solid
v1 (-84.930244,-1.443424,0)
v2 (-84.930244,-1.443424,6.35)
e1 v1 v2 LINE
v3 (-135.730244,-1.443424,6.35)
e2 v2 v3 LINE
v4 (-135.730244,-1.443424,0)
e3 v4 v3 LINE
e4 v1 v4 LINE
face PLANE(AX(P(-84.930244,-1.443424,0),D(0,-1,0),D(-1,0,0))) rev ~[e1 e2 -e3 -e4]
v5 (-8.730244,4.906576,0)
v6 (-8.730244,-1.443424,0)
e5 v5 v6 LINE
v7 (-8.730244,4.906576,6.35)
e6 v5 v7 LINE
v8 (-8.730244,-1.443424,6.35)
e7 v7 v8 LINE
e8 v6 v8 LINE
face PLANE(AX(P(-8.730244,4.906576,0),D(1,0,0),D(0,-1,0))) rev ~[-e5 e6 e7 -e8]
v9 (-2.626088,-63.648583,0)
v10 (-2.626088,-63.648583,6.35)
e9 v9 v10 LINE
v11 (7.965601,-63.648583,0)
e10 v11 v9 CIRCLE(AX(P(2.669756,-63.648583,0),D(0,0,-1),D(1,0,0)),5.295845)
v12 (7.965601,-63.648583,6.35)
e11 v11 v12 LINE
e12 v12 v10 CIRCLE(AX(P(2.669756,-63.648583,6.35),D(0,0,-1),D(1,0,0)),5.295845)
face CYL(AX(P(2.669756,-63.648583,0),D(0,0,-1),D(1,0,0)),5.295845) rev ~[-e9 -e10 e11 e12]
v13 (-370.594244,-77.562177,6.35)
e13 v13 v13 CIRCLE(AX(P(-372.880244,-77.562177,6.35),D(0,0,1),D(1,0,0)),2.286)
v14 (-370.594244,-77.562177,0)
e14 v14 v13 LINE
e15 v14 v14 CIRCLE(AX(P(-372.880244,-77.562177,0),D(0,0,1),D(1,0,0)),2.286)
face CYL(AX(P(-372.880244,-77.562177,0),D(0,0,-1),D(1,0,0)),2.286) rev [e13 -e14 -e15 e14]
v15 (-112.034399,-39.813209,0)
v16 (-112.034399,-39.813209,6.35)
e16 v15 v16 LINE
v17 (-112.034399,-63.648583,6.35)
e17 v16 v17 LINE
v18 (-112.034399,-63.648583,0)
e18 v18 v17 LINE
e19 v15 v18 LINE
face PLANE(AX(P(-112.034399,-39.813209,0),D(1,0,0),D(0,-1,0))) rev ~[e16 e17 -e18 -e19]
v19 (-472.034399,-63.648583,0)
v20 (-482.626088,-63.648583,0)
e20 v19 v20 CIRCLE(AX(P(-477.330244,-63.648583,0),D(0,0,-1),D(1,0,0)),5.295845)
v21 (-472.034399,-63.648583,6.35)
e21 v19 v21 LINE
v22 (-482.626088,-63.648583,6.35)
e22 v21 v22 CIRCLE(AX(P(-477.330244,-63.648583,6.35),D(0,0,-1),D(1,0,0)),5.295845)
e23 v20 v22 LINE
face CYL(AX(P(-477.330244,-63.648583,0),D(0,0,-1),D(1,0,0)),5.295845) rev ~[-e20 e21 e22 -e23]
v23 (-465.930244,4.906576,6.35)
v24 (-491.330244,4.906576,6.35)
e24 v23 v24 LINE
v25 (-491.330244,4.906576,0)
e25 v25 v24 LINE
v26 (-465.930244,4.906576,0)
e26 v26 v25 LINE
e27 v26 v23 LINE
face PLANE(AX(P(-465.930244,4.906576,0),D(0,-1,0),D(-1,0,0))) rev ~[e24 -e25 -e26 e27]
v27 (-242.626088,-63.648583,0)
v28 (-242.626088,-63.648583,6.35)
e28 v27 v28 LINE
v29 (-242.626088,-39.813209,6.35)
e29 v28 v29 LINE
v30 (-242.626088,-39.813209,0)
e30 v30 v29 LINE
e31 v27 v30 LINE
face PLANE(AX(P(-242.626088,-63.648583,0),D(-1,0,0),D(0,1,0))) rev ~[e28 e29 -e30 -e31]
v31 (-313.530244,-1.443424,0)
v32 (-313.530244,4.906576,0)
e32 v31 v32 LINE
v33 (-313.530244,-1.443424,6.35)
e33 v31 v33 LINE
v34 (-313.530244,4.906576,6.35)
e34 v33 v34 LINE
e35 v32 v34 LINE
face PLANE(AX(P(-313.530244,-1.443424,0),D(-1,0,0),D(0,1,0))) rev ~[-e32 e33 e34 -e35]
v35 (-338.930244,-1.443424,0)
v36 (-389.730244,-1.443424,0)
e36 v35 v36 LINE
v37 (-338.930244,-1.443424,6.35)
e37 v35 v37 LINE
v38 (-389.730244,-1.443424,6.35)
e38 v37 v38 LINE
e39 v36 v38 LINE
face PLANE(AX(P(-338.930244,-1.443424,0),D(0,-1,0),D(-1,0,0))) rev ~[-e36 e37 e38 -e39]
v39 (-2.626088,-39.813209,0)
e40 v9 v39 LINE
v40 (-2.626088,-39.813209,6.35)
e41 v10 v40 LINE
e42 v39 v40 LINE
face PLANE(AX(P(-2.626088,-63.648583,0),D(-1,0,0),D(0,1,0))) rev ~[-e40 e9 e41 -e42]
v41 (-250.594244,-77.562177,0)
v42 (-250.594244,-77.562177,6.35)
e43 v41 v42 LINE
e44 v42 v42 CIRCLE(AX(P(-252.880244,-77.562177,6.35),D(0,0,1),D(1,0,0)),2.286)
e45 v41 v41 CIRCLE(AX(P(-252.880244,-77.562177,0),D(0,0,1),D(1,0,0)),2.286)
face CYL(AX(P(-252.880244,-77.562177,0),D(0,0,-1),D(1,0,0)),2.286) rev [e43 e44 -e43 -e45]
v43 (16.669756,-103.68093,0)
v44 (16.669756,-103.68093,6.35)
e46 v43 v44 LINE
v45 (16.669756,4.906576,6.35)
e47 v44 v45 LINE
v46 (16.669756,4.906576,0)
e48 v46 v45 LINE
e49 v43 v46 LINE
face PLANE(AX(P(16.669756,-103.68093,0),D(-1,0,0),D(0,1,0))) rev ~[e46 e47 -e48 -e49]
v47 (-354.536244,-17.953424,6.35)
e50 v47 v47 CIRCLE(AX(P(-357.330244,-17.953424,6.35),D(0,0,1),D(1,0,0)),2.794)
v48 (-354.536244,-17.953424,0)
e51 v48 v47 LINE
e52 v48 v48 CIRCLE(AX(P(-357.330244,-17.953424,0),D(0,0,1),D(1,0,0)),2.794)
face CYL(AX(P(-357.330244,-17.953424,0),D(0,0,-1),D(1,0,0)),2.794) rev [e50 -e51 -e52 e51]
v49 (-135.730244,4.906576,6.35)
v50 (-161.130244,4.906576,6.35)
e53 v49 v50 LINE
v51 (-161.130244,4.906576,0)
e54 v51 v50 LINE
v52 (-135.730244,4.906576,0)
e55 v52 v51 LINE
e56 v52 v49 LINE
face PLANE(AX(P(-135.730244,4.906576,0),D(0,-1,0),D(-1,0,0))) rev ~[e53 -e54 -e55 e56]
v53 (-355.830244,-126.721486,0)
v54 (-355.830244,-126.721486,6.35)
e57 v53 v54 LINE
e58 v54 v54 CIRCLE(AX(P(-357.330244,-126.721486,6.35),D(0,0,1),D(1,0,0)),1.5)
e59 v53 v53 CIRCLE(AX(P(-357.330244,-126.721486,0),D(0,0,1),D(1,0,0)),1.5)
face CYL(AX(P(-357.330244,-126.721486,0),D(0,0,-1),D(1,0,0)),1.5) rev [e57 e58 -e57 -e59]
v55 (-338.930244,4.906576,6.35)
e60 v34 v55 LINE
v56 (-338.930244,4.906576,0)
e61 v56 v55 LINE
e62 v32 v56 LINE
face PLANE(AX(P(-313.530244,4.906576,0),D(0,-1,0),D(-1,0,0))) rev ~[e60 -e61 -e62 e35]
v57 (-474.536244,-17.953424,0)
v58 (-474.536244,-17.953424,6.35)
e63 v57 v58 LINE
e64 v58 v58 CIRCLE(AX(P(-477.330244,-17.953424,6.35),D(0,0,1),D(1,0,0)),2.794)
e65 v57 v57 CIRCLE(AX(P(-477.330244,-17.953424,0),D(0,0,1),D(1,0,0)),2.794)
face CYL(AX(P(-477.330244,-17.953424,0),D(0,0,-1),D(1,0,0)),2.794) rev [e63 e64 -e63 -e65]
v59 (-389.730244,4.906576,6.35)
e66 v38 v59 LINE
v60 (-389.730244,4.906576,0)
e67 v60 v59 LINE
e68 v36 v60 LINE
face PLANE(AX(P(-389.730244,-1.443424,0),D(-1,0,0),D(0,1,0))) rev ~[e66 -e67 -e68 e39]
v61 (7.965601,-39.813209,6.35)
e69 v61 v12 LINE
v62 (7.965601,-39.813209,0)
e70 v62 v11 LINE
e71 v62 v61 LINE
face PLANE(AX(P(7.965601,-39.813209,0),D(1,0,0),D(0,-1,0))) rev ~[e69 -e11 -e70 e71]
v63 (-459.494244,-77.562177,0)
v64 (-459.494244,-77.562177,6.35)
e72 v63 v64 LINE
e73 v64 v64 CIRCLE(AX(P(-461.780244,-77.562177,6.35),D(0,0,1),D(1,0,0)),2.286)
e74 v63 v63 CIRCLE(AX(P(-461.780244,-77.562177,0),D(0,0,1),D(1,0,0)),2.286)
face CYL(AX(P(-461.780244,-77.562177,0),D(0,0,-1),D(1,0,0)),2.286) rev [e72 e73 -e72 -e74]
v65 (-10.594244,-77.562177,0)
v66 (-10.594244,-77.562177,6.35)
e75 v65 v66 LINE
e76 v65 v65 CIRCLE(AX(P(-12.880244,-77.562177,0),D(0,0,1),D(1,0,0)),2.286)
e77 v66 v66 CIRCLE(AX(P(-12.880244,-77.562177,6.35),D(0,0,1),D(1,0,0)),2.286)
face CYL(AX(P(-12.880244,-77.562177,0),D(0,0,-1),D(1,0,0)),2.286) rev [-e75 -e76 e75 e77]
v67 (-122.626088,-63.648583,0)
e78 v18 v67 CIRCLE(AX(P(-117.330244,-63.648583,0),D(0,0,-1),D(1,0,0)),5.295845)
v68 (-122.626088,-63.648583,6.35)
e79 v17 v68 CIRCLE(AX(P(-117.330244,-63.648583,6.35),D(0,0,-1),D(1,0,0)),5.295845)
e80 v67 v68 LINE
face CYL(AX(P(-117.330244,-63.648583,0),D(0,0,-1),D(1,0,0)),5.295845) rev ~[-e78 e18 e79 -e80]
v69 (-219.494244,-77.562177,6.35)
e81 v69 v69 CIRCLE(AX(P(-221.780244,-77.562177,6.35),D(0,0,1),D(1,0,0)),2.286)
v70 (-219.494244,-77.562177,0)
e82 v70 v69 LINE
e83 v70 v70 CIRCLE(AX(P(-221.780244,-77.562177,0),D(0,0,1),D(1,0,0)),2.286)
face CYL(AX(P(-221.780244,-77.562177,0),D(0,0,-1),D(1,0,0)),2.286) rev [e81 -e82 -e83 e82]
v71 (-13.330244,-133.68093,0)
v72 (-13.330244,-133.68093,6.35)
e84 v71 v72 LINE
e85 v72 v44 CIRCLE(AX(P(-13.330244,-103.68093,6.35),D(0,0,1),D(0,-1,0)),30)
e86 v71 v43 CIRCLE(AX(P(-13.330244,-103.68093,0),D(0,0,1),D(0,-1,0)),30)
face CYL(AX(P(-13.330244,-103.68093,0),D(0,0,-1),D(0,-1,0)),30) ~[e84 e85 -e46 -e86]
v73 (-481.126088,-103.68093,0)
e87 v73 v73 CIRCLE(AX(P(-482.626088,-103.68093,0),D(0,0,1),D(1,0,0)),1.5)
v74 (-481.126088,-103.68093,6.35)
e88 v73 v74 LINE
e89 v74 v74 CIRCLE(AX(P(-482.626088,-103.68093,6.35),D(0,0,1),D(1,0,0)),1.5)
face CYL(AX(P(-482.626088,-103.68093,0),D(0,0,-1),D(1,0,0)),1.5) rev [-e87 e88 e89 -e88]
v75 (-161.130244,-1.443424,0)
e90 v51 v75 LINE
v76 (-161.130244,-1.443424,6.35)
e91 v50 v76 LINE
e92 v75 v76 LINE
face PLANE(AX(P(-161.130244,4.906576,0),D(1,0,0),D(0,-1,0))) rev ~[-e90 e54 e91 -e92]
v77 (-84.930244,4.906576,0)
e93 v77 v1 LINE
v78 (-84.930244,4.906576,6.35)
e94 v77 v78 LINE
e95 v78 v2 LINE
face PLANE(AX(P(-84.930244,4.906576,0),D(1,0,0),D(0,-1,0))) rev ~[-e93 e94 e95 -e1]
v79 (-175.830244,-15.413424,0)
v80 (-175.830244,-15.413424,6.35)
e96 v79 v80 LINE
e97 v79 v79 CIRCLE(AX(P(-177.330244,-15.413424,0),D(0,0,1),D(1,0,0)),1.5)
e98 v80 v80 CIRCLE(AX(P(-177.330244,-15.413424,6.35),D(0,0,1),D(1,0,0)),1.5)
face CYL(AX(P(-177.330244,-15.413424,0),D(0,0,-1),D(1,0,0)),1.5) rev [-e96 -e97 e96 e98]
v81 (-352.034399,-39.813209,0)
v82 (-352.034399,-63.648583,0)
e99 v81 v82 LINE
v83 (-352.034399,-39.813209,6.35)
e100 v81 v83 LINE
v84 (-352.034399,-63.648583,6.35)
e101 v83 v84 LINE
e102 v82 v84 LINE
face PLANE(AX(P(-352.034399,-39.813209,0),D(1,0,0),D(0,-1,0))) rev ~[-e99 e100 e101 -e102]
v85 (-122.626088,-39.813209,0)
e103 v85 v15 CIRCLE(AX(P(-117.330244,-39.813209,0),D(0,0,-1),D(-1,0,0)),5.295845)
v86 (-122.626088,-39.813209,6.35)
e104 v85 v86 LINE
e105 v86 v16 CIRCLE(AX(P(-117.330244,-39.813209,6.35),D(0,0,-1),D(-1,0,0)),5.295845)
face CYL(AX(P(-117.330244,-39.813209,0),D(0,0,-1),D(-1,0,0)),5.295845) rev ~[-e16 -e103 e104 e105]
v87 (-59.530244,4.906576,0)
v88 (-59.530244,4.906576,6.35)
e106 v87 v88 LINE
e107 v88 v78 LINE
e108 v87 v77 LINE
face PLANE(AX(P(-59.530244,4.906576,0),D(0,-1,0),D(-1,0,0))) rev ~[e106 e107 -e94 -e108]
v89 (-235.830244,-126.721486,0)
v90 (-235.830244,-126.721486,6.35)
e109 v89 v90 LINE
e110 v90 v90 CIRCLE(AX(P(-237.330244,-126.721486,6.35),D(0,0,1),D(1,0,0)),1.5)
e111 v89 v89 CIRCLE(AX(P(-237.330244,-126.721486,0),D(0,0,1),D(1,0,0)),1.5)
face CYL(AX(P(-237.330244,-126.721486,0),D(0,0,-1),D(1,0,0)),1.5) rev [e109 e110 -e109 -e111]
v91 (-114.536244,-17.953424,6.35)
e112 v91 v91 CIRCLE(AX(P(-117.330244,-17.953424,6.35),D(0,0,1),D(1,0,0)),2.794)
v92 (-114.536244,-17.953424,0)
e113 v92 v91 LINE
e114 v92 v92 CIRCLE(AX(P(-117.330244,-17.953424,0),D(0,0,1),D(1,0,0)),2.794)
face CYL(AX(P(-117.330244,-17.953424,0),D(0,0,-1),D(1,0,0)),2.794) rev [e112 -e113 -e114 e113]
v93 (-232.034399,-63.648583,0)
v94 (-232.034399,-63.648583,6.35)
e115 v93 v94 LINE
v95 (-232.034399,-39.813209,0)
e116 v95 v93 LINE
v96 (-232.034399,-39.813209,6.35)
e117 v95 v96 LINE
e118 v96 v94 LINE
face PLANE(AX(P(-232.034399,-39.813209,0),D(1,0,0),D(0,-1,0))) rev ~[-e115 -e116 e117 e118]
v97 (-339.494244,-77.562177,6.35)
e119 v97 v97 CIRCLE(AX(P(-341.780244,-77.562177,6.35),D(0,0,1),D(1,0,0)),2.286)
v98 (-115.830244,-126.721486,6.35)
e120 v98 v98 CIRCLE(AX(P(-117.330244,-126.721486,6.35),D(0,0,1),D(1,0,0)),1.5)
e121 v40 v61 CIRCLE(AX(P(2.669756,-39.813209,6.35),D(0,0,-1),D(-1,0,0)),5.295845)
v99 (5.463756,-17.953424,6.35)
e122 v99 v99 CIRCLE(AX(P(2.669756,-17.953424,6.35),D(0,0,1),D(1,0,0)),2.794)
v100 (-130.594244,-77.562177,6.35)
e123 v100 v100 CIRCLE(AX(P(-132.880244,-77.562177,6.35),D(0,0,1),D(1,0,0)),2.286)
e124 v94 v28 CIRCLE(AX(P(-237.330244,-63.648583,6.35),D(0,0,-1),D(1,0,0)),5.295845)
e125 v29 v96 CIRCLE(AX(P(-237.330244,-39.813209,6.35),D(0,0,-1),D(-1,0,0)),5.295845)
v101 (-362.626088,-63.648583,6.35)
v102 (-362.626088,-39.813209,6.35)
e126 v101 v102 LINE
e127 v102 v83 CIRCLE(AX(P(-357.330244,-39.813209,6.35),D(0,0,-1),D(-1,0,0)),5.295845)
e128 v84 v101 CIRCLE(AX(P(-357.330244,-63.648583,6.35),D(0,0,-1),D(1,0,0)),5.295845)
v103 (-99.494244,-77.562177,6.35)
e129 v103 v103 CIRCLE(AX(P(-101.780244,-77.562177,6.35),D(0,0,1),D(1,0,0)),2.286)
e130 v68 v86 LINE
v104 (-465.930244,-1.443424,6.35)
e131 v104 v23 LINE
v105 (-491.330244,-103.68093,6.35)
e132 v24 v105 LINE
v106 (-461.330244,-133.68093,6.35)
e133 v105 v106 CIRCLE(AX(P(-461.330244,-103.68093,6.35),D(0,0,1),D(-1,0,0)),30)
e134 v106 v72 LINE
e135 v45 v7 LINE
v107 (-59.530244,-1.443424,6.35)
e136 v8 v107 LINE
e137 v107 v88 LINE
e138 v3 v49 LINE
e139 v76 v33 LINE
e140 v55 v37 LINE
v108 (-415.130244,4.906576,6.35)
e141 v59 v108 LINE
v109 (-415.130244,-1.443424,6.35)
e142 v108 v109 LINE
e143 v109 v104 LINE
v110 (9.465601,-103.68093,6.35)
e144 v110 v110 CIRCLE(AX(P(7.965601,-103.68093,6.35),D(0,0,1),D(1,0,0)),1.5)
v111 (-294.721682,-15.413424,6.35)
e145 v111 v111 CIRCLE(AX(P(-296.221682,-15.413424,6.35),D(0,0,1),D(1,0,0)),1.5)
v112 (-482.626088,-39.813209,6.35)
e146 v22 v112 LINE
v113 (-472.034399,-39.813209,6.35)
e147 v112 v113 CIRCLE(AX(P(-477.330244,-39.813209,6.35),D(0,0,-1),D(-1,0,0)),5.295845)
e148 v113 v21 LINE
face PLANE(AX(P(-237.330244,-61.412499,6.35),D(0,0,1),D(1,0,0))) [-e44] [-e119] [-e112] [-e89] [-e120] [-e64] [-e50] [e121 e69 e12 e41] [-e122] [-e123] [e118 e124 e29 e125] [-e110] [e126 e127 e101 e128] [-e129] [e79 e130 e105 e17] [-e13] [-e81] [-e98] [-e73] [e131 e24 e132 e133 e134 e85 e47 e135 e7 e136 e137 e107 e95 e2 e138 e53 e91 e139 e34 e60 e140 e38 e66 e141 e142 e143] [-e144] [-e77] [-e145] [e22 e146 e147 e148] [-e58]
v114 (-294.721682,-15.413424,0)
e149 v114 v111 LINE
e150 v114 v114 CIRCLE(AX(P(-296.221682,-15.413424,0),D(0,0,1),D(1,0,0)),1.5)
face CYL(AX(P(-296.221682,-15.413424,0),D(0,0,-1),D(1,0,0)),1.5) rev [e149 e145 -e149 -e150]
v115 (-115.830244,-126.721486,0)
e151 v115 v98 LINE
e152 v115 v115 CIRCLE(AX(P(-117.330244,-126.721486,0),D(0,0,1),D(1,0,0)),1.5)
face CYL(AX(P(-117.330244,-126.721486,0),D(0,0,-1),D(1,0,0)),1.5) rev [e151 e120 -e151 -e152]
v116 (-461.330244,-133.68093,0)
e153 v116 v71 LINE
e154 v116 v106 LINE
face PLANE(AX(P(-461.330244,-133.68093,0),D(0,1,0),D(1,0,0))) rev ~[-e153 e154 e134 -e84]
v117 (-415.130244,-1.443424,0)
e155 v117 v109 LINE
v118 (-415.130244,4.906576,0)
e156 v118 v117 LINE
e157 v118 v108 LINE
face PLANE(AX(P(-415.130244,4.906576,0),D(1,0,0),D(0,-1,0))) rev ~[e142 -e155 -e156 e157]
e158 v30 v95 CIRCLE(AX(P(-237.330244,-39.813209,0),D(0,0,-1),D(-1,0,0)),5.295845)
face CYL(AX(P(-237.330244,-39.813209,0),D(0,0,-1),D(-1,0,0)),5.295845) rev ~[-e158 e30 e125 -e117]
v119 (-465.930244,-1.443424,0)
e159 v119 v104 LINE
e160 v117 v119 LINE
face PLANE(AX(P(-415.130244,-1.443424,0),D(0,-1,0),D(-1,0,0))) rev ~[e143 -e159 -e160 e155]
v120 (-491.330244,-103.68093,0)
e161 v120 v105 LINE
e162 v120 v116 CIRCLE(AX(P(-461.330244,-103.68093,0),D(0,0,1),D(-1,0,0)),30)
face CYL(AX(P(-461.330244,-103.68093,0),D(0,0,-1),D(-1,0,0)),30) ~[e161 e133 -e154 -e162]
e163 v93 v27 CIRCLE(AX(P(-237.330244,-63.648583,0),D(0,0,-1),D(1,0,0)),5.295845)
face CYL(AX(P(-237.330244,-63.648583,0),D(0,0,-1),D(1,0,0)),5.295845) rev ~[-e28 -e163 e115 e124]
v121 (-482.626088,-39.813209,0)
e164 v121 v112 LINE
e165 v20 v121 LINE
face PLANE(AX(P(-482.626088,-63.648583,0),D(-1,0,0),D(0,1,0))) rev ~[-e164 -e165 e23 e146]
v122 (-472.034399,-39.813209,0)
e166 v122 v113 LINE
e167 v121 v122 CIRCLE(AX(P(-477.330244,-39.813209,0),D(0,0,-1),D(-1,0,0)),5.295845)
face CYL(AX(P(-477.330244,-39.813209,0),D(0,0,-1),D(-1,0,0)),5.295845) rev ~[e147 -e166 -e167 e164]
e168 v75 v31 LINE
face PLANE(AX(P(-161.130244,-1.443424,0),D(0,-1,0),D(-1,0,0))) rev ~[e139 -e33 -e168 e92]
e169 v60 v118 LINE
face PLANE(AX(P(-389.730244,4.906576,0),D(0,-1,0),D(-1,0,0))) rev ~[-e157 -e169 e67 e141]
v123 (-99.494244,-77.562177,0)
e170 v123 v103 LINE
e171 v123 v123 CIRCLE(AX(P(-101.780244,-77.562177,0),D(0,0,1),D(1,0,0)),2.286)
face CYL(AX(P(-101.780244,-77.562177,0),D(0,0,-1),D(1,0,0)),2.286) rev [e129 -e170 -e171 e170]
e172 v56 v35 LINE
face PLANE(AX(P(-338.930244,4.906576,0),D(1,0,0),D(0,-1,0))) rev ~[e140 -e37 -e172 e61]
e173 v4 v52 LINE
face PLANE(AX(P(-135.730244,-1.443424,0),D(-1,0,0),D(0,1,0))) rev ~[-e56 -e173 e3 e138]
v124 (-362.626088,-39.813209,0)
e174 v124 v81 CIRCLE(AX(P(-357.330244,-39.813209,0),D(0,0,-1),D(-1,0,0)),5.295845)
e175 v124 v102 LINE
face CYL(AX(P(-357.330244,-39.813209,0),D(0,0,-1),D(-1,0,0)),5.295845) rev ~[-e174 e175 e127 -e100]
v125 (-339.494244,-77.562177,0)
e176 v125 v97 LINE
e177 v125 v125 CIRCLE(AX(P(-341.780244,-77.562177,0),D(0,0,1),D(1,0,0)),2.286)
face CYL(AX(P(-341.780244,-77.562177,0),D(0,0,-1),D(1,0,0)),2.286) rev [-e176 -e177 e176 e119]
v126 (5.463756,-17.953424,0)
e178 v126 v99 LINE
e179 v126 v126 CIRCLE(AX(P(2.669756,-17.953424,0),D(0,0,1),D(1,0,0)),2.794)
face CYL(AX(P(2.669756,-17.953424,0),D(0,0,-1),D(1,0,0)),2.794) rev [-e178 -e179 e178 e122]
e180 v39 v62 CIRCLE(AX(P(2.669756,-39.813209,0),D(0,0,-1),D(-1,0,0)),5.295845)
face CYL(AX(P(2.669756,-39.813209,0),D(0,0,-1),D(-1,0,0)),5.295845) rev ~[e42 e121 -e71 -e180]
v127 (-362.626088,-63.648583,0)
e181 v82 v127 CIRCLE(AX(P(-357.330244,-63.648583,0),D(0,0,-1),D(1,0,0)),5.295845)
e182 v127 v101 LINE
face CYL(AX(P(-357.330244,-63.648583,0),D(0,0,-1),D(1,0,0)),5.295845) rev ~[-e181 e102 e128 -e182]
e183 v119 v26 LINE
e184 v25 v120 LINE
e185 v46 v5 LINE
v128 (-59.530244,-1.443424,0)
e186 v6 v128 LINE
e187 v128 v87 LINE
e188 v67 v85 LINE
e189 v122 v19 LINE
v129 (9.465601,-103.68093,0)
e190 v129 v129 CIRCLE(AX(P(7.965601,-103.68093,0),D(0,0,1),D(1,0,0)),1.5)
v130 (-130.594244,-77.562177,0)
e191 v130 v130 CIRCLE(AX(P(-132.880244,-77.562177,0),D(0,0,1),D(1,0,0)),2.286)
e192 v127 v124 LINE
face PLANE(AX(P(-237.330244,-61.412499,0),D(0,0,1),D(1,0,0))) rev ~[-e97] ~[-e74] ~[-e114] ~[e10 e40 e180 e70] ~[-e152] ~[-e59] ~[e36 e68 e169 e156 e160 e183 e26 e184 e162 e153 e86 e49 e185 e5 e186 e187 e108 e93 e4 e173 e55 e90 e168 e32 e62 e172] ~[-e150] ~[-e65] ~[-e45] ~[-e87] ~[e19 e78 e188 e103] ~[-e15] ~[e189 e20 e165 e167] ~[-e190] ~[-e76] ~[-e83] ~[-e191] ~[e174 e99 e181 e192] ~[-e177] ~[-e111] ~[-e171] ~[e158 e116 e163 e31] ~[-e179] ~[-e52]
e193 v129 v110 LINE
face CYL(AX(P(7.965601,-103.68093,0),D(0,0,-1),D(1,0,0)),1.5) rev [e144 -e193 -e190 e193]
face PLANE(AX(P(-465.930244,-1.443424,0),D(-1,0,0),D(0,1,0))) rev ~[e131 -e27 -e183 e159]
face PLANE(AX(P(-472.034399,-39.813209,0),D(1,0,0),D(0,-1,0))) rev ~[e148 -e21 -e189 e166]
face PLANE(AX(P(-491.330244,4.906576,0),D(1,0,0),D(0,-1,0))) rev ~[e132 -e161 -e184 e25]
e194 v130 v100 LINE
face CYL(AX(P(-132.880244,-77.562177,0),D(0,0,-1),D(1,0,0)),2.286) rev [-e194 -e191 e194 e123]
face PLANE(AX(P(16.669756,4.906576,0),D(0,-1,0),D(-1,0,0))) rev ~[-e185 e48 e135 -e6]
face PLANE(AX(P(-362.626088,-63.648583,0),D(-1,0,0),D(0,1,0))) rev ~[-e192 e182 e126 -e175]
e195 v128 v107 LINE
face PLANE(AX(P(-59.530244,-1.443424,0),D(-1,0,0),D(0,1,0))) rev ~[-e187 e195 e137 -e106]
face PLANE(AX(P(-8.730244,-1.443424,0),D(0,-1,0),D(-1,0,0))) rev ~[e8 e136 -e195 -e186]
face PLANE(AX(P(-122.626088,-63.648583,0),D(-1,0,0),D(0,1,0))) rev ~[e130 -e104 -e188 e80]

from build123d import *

# Parameters (mm, degrees)
SKETCH1_R           = 1.5
SKETCH1_R_2         = 2.286
SKETCH1_R_3         = 2.794
BOSS_EXTRUDE1_DEPTH = 6.35


with BuildPart() as part:
    # Sketch1 → Boss-Extrude1 (new body)
    with BuildSketch(Plane.XY):
        with BuildLine():
            Line((-491.330243723, 4.906575793), (-491.330243723, -1.443424207))
            Line((-491.330243723, -1.443424207), (-491.330243723, -103.680930126))
            ThreePointArc((-491.330243723, -103.680930126), (-482.543447159, -124.894133561), (-461.330243723, -133.680930126))
            Line((-461.330243723, -133.680930126), (-13.330243723, -133.680930126))
            ThreePointArc((-13.330243723, -133.680930126), (7.882959712, -124.894133561), (16.669756277, -103.680930126))
            Line((16.669756277, -103.680930126), (16.669756277, -1.443424207))
            Line((16.669756277, -1.443424207), (16.669756277, 4.906575793))
            Line((16.669756277, 4.906575793), (-8.730243723, 4.906575793))
            Line((-8.730243723, 4.906575793), (-8.730243723, -1.443424207))
            Line((-8.730243723, -1.443424207), (-59.530243723, -1.443424207))
            Line((-59.530243723, -1.443424207), (-59.530243723, 4.906575793))
            Line((-59.530243723, 4.906575793), (-84.930243723, 4.906575793))
            Line((-84.930243723, 4.906575793), (-84.930243723, -1.443424207))
            Line((-84.930243723, -1.443424207), (-135.730243723, -1.443424207))
            Line((-135.730243723, -1.443424207), (-135.730243723, 4.906575793))
            Line((-135.730243723, 4.906575793), (-161.130243723, 4.906575793))
            Line((-161.130243723, 4.906575793), (-161.130243723, -1.443424207))
            Line((-161.130243723, -1.443424207), (-313.530243723, -1.443424207))
            Line((-313.530243723, -1.443424207), (-313.530243723, 4.906575793))
            Line((-313.530243723, 4.906575793), (-338.930243723, 4.906575793))
            Line((-338.930243723, 4.906575793), (-338.930243723, -1.443424207))
            Line((-338.930243723, -1.443424207), (-389.730243723, -1.443424207))
            Line((-389.730243723, -1.443424207), (-389.730243723, 4.906575793))
            Line((-389.730243723, 4.906575793), (-415.130243723, 4.906575793))
            Line((-415.130243723, 4.906575793), (-415.130243723, -1.443424207))
            Line((-415.130243723, -1.443424207), (-465.930243723, -1.443424207))
            Line((-465.930243723, -1.443424207), (-465.930243723, 4.906575793))
            Line((-465.930243723, 4.906575793), (-491.330243723, 4.906575793))
        make_face()
        with Locations((-482.62608839, -103.680930126)):
            Circle(SKETCH1_R, mode=Mode.SUBTRACT)
        with Locations((-357.330243723, -126.721486066)):
            Circle(SKETCH1_R, mode=Mode.SUBTRACT)
        with Locations((-461.780243723, -77.562177166)):
            Circle(SKETCH1_R_2, mode=Mode.SUBTRACT)
        with Locations((-372.880243723, -77.562177166)):
            Circle(SKETCH1_R_2, mode=Mode.SUBTRACT)
        with Locations((-341.780243723, -77.562177166)):
            Circle(SKETCH1_R_2, mode=Mode.SUBTRACT)
        with Locations((-252.880243723, -77.562177166)):
            Circle(SKETCH1_R_2, mode=Mode.SUBTRACT)
        with Locations((-237.330243723, -126.721486066)):
            Circle(SKETCH1_R, mode=Mode.SUBTRACT)
        with Locations((-117.330243723, -126.721486066)):
            Circle(SKETCH1_R, mode=Mode.SUBTRACT)
        with Locations((7.965600943, -103.680930126)):
            Circle(SKETCH1_R, mode=Mode.SUBTRACT)
        with Locations((-221.780243723, -77.562177166)):
            Circle(SKETCH1_R_2, mode=Mode.SUBTRACT)
        with Locations((-132.880243723, -77.562177166)):
            Circle(SKETCH1_R_2, mode=Mode.SUBTRACT)
        with Locations((-101.780243723, -77.562177166)):
            Circle(SKETCH1_R_2, mode=Mode.SUBTRACT)
        with Locations((-12.880243723, -77.562177166)):
            Circle(SKETCH1_R_2, mode=Mode.SUBTRACT)
        with BuildLine():
            ThreePointArc((-482.62608839, -39.813208936), (-477.330243723, -34.51736427), (-472.034399057, -39.813208936))
            Line((-472.034399057, -39.813208936), (-472.034399057, -63.648583111))
            ThreePointArc((-472.034399057, -63.648583111), (-477.330243723, -68.944427778), (-482.62608839, -63.648583111))
            Line((-482.62608839, -63.648583111), (-482.62608839, -39.813208936))
        make_face(mode=Mode.SUBTRACT)
        with BuildLine():
            ThreePointArc((-362.62608839, -39.813208936), (-357.330243723, -34.51736427), (-352.034399057, -39.813208936))
            Line((-352.034399057, -39.813208936), (-352.034399057, -63.648583111))
            ThreePointArc((-352.034399057, -63.648583111), (-357.330243723, -68.944427778), (-362.62608839, -63.648583111))
            Line((-362.62608839, -63.648583111), (-362.62608839, -39.813208936))
        make_face(mode=Mode.SUBTRACT)
        with Locations((-477.330243723, -17.953424207)):
            Circle(SKETCH1_R_3, mode=Mode.SUBTRACT)
        with Locations((-357.330243723, -17.953424207)):
            Circle(SKETCH1_R_3, mode=Mode.SUBTRACT)
        with Locations((-296.221681692, -15.413424207)):
            Circle(SKETCH1_R, mode=Mode.SUBTRACT)
        with BuildLine():
            ThreePointArc((-242.62608839, -39.813208936), (-237.330243723, -34.51736427), (-232.034399057, -39.813208936))
            Line((-232.034399057, -39.813208936), (-232.034399057, -63.648583111))
            ThreePointArc((-232.034399057, -63.648583111), (-237.330243723, -68.944427778), (-242.62608839, -63.648583111))
            Line((-242.62608839, -63.648583111), (-242.62608839, -39.813208936))
        make_face(mode=Mode.SUBTRACT)
        with BuildLine():
            ThreePointArc((-122.62608839, -39.813208936), (-117.330243723, -34.51736427), (-112.034399057, -39.813208936))
            Line((-112.034399057, -39.813208936), (-112.034399057, -63.648583111))
            ThreePointArc((-112.034399057, -63.648583111), (-117.330243723, -68.944427778), (-122.62608839, -63.648583111))
            Line((-122.62608839, -63.648583111), (-122.62608839, -39.813208936))
        make_face(mode=Mode.SUBTRACT)
        with BuildLine():
            ThreePointArc((-2.62608839, -39.813208936), (2.669756277, -34.51736427), (7.965600943, -39.813208936))
            Line((7.965600943, -39.813208936), (7.965600943, -63.648583111))
            ThreePointArc((7.965600943, -63.648583111), (2.669756277, -68.944427778), (-2.62608839, -63.648583111))
            Line((-2.62608839, -63.648583111), (-2.62608839, -39.813208936))
        make_face(mode=Mode.SUBTRACT)
        with Locations((-177.33024378, -15.413424207)):
            Circle(SKETCH1_R, mode=Mode.SUBTRACT)
        with Locations((-117.330243723, -17.953424207)):
            Circle(SKETCH1_R_3, mode=Mode.SUBTRACT)
        with Locations((2.669756277, -17.953424207)):
            Circle(SKETCH1_R_3, mode=Mode.SUBTRACT)
    extrude(amount=BOSS_EXTRUDE1_DEPTH)


solid = part.part
